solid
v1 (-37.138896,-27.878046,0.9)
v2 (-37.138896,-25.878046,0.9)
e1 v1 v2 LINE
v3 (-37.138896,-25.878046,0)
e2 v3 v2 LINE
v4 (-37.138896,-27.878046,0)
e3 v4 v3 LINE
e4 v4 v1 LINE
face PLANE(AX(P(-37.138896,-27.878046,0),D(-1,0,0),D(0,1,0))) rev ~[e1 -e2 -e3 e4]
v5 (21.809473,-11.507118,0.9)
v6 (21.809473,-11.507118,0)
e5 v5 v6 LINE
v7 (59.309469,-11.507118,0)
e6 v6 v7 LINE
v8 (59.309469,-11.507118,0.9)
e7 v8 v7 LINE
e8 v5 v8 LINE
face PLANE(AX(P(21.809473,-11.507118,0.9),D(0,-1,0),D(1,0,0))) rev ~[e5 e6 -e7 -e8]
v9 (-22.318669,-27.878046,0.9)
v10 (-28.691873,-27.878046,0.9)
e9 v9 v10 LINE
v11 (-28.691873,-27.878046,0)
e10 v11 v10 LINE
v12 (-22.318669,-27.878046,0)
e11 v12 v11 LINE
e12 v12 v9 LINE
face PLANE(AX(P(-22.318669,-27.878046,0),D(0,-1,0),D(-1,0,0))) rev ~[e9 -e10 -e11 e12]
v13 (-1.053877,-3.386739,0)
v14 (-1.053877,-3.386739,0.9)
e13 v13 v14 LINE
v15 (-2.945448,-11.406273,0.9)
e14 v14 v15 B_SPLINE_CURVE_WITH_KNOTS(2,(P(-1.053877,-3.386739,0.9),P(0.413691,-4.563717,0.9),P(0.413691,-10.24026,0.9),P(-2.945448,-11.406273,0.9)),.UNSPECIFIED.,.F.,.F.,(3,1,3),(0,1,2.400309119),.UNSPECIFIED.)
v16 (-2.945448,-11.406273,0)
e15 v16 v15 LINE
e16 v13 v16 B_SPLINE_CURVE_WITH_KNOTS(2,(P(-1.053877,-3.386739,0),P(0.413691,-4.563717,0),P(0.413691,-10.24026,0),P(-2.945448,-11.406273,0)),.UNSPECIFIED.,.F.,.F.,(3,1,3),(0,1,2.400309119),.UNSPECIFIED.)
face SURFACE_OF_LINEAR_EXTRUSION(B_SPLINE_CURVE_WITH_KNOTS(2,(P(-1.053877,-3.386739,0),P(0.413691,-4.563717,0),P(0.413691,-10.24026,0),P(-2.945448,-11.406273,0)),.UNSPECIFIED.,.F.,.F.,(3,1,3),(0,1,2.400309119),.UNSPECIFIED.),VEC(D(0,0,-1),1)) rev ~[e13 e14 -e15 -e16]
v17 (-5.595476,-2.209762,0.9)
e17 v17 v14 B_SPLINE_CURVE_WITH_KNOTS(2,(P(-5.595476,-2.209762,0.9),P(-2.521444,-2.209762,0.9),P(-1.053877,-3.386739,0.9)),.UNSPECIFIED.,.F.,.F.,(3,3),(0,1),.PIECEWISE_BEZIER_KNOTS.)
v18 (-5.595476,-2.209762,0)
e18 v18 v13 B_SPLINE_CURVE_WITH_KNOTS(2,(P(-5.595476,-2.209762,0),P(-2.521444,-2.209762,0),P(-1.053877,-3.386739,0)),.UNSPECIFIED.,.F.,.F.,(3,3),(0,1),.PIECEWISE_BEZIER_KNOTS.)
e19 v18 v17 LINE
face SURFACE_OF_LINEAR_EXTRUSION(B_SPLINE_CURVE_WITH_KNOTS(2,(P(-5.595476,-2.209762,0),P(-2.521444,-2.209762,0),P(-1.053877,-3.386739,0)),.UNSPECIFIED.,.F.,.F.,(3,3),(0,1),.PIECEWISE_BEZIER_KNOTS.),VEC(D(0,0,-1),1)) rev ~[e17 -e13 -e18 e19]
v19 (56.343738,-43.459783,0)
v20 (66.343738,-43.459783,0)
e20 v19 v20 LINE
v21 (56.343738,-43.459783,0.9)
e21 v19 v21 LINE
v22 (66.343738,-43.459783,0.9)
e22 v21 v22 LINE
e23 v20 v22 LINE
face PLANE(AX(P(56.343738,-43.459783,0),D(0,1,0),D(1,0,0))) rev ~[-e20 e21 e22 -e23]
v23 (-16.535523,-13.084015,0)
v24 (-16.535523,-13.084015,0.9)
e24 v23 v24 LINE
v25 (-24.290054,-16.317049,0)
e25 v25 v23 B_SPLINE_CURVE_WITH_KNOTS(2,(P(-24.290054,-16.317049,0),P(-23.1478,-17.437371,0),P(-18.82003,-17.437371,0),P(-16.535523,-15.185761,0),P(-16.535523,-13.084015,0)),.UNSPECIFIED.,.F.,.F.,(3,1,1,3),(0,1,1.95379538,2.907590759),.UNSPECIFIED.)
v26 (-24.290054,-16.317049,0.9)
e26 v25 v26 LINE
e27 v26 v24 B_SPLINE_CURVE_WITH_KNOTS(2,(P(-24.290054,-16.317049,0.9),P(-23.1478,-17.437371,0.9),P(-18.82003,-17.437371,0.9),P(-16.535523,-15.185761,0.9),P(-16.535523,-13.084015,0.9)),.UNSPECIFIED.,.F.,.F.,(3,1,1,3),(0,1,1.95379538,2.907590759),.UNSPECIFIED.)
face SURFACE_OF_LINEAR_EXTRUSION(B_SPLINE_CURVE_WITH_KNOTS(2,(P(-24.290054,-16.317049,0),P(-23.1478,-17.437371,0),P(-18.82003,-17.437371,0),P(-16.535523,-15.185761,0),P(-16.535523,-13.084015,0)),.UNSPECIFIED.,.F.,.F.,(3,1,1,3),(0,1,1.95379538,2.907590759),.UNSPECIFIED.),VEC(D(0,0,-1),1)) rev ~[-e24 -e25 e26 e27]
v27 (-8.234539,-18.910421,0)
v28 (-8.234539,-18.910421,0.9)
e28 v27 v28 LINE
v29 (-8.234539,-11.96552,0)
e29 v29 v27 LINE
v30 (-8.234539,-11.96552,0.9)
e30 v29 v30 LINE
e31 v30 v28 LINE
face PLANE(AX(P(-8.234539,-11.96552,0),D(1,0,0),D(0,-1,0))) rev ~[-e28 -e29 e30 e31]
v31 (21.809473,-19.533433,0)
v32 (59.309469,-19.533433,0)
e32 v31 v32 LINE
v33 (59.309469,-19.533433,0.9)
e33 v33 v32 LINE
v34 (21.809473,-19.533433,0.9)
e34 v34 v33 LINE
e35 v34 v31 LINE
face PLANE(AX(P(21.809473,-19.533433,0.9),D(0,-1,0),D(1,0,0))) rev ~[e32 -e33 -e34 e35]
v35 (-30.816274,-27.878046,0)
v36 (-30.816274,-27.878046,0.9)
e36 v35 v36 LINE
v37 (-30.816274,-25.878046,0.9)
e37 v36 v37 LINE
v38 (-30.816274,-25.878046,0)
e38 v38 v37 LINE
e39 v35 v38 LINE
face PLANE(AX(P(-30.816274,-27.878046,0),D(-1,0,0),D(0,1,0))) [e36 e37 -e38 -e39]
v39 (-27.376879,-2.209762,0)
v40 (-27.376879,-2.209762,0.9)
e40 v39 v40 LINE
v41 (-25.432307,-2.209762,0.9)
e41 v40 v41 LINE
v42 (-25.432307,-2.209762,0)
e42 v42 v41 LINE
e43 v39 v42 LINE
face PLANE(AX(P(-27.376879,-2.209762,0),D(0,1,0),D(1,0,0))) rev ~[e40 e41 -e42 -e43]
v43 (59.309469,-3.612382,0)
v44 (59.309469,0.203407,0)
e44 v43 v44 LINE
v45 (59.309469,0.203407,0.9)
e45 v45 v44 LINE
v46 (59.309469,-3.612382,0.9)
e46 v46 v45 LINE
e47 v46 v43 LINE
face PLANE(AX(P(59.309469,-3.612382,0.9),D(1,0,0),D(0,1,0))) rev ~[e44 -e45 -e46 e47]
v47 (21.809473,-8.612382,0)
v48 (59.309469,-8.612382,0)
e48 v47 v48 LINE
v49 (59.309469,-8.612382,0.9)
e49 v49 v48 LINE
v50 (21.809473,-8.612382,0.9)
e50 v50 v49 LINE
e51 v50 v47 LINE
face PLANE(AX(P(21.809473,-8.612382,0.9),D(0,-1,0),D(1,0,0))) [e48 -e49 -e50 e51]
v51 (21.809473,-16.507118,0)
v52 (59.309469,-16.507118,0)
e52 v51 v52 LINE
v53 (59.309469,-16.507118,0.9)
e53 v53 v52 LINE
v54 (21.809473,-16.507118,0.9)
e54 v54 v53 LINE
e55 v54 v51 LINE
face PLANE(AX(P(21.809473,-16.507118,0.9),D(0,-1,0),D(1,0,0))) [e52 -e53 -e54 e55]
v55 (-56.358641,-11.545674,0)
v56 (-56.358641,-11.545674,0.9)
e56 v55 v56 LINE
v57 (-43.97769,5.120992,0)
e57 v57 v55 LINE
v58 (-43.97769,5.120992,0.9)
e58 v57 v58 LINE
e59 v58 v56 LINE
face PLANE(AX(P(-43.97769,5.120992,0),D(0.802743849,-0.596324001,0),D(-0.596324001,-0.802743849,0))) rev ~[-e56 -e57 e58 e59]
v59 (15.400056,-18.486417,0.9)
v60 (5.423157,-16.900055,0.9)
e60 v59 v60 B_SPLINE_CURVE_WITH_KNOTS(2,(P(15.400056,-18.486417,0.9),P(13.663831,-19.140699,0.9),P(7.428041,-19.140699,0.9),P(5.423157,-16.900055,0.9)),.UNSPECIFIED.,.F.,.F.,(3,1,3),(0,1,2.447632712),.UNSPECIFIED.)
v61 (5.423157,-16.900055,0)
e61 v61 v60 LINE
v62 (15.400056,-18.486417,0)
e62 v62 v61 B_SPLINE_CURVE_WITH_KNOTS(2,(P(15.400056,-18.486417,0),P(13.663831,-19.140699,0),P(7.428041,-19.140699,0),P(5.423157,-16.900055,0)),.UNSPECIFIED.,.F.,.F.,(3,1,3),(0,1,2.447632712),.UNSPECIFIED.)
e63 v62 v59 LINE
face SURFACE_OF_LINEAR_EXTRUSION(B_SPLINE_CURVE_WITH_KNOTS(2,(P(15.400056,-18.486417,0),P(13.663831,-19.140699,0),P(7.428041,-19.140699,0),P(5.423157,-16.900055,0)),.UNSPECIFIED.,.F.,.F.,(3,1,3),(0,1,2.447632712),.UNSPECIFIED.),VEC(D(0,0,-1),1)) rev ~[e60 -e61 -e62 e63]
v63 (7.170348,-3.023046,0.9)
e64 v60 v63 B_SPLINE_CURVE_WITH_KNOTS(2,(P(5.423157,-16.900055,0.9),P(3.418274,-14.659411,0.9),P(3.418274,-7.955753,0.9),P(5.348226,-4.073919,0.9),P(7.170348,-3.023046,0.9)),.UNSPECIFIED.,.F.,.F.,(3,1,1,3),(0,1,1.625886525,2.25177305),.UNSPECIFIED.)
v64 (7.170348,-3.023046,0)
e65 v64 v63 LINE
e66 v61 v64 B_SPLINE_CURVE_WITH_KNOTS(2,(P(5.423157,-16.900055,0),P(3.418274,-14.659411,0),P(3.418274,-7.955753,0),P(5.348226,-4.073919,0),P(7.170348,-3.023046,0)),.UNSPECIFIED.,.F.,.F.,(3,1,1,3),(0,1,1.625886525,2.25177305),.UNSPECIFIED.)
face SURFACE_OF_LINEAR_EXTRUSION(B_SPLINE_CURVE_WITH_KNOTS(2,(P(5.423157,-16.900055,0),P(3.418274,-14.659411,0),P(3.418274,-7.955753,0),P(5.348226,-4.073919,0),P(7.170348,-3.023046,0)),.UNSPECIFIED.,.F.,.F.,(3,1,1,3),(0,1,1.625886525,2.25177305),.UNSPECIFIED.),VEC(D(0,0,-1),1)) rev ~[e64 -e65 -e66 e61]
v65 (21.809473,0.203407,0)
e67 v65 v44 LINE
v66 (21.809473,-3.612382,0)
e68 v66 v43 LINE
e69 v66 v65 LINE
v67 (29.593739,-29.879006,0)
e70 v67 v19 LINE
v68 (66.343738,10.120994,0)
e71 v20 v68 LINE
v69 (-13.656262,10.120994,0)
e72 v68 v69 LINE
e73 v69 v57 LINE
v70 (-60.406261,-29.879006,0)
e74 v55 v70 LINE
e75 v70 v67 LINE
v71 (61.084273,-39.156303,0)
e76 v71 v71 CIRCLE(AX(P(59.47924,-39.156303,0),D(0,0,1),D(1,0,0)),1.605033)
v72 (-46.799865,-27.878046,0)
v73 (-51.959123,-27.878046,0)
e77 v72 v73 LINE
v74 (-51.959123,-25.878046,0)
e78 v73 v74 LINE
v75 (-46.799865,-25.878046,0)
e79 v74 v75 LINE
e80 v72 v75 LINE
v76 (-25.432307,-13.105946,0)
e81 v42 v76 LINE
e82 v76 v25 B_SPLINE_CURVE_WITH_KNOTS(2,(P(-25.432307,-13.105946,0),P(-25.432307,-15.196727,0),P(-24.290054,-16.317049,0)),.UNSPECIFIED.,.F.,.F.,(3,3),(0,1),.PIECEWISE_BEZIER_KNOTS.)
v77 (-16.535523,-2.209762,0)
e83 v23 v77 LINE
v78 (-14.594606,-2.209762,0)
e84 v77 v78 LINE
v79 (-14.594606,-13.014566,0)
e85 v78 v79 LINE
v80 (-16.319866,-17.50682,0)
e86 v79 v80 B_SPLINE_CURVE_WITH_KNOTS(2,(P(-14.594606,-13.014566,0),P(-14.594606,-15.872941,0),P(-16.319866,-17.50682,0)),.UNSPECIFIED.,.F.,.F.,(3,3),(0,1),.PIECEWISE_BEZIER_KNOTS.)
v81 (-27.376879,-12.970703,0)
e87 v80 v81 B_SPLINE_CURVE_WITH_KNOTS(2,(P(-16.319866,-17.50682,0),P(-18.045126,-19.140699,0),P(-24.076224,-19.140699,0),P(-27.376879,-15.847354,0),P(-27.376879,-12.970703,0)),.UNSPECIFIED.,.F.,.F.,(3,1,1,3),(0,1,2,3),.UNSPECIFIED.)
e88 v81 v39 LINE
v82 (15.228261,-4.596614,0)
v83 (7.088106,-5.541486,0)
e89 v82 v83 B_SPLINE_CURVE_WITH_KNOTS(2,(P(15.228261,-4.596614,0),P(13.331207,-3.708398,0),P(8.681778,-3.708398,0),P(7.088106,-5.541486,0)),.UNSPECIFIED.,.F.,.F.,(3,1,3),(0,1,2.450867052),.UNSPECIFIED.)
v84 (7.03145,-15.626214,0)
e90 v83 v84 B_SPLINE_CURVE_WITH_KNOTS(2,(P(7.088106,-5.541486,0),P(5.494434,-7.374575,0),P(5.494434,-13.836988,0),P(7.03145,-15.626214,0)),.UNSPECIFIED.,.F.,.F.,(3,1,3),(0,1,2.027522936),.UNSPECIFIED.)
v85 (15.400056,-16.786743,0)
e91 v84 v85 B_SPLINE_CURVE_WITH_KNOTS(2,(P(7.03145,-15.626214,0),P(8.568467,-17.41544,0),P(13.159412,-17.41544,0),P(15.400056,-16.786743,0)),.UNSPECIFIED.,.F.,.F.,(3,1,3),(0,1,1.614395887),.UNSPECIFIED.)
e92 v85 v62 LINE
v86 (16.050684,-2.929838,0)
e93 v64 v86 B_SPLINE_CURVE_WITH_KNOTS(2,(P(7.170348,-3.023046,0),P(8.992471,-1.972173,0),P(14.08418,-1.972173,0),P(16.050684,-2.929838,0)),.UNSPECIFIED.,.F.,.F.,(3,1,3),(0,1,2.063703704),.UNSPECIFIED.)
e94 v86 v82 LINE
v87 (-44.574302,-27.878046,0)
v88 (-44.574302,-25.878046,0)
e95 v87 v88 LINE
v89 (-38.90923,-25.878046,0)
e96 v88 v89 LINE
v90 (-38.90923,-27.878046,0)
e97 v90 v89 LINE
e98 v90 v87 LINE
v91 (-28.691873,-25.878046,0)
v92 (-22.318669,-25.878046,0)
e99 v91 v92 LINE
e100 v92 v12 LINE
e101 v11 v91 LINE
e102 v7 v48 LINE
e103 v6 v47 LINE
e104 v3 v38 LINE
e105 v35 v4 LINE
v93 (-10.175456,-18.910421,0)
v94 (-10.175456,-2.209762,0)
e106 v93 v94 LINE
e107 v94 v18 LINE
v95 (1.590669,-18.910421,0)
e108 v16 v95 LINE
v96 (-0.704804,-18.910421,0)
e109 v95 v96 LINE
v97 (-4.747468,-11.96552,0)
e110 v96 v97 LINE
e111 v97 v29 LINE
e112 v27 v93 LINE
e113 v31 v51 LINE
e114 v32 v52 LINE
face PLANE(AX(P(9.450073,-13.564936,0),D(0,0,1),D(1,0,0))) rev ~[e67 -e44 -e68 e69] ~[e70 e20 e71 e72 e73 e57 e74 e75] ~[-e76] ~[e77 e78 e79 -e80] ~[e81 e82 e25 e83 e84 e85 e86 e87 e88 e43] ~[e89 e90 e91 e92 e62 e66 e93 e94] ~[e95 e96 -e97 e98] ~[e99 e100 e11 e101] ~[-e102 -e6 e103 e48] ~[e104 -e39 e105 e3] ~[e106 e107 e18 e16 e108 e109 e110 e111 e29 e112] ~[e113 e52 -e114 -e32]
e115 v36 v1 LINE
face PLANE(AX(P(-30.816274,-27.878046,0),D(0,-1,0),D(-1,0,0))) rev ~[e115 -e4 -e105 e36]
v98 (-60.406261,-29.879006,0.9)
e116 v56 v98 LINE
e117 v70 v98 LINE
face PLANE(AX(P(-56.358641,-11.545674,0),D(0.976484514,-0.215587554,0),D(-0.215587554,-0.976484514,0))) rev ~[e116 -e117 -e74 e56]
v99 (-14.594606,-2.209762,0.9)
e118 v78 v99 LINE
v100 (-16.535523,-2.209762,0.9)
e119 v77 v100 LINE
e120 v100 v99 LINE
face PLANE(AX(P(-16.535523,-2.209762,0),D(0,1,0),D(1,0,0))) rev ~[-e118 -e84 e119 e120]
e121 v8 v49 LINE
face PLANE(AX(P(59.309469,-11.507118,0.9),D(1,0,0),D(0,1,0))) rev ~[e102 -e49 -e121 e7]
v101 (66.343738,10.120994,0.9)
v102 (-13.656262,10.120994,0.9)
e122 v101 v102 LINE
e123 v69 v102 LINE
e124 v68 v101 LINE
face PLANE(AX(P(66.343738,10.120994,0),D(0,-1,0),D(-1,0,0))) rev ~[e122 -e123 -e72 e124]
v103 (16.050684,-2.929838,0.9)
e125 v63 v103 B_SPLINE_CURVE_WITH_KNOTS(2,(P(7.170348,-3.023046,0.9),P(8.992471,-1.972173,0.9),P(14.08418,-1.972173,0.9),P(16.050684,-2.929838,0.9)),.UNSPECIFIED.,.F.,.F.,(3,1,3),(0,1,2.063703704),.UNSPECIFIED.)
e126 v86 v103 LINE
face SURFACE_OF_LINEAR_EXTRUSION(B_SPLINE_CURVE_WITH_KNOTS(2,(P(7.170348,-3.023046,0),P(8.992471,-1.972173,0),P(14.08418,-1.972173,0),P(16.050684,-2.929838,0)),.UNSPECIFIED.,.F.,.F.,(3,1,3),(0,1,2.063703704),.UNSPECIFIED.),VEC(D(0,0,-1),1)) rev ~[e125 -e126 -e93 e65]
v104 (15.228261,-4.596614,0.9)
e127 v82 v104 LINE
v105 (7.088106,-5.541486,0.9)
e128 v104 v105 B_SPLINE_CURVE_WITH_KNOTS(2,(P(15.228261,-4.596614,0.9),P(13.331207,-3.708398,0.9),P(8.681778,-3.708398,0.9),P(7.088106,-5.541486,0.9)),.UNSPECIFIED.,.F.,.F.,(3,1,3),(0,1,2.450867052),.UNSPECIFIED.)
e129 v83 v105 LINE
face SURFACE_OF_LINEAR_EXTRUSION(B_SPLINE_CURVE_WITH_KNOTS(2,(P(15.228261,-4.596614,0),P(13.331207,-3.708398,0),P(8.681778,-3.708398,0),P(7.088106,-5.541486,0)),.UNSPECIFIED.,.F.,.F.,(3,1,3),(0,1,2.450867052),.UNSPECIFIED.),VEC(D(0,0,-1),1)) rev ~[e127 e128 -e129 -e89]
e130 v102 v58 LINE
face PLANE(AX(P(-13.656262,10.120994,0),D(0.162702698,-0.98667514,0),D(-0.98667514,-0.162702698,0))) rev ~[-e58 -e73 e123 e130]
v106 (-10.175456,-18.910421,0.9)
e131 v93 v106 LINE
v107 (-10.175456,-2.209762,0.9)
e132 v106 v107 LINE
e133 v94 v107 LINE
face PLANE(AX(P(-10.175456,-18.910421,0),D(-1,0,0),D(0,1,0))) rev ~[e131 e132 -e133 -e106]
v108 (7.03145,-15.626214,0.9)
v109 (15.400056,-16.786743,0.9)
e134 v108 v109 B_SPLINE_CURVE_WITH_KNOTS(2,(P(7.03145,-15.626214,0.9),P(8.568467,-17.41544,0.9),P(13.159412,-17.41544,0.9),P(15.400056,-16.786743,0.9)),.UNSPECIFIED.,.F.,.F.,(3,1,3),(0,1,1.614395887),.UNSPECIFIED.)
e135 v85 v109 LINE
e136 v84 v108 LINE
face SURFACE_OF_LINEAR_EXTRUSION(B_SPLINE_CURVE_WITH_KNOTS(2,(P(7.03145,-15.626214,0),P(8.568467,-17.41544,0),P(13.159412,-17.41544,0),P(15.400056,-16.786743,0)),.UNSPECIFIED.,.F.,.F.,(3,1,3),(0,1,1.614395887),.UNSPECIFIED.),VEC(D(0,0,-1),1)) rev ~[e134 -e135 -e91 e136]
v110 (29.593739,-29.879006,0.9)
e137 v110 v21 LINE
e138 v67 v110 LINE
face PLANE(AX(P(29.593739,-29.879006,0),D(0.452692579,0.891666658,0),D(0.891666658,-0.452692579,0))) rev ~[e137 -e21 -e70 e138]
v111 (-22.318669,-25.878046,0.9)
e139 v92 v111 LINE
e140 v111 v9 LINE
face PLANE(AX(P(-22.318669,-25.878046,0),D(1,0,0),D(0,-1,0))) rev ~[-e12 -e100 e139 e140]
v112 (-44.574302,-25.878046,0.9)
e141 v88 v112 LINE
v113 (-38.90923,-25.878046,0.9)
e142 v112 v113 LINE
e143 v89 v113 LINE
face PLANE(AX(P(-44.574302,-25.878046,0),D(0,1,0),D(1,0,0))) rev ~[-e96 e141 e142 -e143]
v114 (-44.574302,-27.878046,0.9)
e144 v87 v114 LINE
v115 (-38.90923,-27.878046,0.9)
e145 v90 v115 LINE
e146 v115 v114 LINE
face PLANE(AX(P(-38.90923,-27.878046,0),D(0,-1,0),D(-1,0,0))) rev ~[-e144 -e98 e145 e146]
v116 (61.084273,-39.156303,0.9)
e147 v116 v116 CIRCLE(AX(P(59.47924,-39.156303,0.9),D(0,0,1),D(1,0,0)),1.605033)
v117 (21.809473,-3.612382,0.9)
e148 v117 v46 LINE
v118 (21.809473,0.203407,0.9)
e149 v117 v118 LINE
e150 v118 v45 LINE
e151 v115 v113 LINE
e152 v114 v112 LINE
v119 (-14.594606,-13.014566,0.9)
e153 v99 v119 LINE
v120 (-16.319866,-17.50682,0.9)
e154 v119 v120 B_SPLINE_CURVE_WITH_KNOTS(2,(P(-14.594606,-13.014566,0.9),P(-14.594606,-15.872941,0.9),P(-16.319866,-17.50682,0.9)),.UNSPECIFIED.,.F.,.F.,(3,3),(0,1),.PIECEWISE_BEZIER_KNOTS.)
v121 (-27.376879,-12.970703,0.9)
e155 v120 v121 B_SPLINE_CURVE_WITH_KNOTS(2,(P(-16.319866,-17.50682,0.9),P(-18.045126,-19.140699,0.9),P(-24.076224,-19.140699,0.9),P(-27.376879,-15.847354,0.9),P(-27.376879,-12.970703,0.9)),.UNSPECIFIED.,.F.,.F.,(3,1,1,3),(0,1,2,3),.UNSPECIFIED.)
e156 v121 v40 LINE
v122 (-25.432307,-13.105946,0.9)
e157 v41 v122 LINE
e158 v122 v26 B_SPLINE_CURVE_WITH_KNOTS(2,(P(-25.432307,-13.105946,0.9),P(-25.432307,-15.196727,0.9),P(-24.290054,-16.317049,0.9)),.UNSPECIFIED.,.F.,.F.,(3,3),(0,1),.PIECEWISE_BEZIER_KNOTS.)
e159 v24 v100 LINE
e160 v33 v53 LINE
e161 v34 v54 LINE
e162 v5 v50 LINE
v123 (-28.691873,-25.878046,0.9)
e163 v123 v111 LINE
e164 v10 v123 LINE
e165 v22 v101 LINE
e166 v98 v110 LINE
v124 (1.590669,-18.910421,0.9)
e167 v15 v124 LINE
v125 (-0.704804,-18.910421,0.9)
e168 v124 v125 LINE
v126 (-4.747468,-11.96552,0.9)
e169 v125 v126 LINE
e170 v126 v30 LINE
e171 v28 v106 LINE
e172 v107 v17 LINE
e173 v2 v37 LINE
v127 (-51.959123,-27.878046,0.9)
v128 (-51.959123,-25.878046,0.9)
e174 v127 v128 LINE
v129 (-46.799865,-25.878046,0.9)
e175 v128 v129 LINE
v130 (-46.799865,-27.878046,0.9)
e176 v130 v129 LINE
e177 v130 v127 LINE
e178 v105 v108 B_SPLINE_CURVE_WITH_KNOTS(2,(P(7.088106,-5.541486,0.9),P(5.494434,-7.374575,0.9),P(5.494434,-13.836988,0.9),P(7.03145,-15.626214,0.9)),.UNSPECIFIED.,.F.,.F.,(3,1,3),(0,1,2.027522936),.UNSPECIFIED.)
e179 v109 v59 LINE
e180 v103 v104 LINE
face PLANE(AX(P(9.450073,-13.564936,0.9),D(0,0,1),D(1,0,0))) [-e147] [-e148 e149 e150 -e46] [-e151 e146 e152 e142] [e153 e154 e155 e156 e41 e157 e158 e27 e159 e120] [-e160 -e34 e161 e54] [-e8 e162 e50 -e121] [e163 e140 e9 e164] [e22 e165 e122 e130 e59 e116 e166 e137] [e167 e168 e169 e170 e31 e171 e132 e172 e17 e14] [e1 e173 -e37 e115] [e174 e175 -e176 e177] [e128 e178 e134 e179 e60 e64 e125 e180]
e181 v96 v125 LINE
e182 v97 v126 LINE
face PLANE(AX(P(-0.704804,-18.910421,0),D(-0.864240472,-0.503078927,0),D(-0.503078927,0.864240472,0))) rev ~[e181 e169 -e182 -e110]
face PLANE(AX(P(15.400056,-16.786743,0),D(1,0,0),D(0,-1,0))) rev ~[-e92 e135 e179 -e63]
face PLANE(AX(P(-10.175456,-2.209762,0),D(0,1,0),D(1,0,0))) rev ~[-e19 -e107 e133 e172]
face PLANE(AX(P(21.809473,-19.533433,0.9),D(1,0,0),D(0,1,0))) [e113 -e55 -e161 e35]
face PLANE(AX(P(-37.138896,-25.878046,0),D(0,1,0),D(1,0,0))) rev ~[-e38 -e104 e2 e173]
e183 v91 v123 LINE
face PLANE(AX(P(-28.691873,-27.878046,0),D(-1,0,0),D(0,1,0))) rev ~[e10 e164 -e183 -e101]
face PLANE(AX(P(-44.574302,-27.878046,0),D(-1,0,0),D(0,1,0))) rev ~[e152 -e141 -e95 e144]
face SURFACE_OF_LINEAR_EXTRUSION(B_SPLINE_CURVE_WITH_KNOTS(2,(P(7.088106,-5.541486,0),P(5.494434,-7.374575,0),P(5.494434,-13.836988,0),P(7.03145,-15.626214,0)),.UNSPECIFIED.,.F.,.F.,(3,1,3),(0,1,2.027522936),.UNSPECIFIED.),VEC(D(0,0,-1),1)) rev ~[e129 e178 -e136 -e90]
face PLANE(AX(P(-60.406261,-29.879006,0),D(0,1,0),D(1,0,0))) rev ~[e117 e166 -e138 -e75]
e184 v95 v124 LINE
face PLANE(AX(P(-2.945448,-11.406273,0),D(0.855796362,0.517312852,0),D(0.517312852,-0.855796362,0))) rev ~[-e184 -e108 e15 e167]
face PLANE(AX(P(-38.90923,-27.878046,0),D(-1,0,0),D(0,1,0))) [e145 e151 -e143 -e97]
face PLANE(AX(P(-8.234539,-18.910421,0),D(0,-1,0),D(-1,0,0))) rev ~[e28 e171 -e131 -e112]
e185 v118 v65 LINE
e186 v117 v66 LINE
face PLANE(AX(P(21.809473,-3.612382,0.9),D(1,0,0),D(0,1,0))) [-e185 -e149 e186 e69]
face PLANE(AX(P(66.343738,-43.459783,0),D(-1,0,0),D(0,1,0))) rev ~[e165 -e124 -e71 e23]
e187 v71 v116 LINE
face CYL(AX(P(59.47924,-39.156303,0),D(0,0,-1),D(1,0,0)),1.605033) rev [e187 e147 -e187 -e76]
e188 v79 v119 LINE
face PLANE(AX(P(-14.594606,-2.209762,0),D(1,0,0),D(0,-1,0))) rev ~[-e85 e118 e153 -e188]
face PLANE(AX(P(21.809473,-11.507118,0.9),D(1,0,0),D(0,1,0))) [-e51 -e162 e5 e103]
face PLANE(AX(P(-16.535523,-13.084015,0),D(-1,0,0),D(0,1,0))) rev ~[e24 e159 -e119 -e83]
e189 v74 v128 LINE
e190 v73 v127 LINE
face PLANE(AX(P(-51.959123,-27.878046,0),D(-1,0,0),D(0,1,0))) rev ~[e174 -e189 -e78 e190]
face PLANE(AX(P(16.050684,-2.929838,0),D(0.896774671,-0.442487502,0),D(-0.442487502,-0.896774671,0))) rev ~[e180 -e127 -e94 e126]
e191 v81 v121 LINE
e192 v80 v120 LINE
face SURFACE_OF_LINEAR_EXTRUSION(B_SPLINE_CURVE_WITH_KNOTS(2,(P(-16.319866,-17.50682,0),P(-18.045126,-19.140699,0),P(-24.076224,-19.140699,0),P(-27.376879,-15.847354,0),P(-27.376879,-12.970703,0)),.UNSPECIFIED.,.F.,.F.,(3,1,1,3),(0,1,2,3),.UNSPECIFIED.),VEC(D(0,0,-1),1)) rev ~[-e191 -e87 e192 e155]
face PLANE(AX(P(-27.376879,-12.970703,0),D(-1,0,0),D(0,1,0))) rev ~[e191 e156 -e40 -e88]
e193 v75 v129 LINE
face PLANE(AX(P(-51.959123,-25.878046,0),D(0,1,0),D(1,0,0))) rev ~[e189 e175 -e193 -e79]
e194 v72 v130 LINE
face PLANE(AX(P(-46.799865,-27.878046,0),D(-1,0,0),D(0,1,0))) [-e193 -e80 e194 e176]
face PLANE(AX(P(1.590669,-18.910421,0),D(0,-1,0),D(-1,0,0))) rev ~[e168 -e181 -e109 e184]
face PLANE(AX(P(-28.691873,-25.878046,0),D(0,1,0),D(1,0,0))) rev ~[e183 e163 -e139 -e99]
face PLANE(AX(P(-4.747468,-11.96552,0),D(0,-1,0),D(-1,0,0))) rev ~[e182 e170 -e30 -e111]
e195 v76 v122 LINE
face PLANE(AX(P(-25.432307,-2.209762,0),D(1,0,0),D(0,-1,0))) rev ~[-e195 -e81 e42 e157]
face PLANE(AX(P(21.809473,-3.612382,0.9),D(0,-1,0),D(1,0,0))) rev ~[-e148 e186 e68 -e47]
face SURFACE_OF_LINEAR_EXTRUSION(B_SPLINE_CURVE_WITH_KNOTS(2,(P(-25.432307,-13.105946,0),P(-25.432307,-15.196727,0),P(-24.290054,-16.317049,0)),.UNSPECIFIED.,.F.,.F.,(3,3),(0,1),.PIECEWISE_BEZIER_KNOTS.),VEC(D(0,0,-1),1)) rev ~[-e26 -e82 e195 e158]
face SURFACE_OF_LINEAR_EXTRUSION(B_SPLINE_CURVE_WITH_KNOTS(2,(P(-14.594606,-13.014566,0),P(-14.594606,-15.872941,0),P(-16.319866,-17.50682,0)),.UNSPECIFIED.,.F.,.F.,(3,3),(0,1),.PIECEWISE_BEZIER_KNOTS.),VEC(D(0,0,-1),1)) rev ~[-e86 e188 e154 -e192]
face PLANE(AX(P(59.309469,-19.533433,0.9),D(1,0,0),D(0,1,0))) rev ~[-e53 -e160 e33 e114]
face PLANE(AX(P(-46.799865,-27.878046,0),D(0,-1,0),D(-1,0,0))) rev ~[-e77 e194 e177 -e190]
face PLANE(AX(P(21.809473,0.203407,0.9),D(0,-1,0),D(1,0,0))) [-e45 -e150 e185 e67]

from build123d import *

# Parameters (mm, degrees)
F0_R     = 1.6050327283
F0_W     = 2.2255629301
F0_H     = 2
F0_W_2   = 1.7703343183
F0_W_3   = 2.1244008094
F1_DEPTH = 0.9
F3_W     = 37.4999957172
F3_H     = 3.8157890567
F3_H_2   = 3.0263150231
F3_H_3   = 2.8947356249
F4_DEPTH = 0.9


with BuildPart() as f1:
    # F0 (on Top) → F1 (new body)
    with BuildSketch(Plane.XY):
        Polygon((-56.3586414655, -11.5456737704), (-60.406261386, -29.879005636), (29.593738614, -29.879005636), (56.3437383481, -43.4597830152), (66.3437383481, -43.4597830152), (66.3437383481, 10.120994364), (-13.6562616519, 10.120994364), (-43.9776898843, 5.1209918552), align=None)
        Polygon((-51.9591234624, -27.8780460358), (-51.9591234624, -25.8780460358), (-46.79986462, -25.8780460358), (-44.5743016899, -25.8780460358), (-38.9092303813, -25.8780460358), (-37.138896063, -25.8780460358), (-30.8162737638, -25.8780460358), (-28.6918729544, -25.8780460358), (-22.3186686635, -25.8780460358), (-22.3186686635, -27.8780460358), (-28.6918729544, -27.8780460358), (-30.8162737638, -27.8780460358), (-37.138896063, -27.8780460358), (-38.9092303813, -27.8780460358), (-44.5743016899, -27.8780460358), (-46.79986462, -27.8780460358), align=None, mode=Mode.SUBTRACT)
        with Locations((59.4792403281, -39.1563028097)):
            Circle(F0_R, mode=Mode.SUBTRACT)
        with BuildLine():
            Line((-16.5355233229, -2.2097615232), (-14.5946062265, -2.2097615232))
            Line((-14.5946062265, -2.2097615232), (-14.5946062265, -13.0145655474))
            add(Edge.make_bspline(
                [(-14.5946062265, -13.0145655474), (-14.5946062265, -15.8729406309), (-16.3198658677, -17.5068199945)],
                knots=[0, 0, 0, 1, 1, 1], degree=2))
            add(Edge.make_bspline(
                [(-16.3198658677, -17.5068199945), (-18.045125509, -19.1406993581), (-21.06067467, -19.1406993581)],
                knots=[0, 0, 0, 1, 1, 1], degree=2))
            add(Edge.make_bspline(
                [(-21.06067467, -19.1406993581), (-24.076223831, -19.1406993581), (-25.7265516446, -17.4940267556)],
                knots=[0, 0, 0, 1, 1, 1], degree=2))
            add(Edge.make_bspline(
                [(-25.7265516446, -17.4940267556), (-27.3768794581, -15.8473541532), (-27.3768794581, -12.9707030141)],
                knots=[0, 0, 0, 1, 1, 1], degree=2))
            Line((-27.3768794581, -12.9707030141), (-27.3768794581, -2.2097615232))
            Line((-27.3768794581, -2.2097615232), (-25.4323071507, -2.2097615232))
            Line((-25.4323071507, -2.2097615232), (-25.4323071507, -13.105945825))
            add(Edge.make_bspline(
                [(-25.4323071507, -13.105945825), (-25.4323071507, -15.1967265766), (-24.2900536806, -16.3170487801)],
                knots=[0, 0, 0, 1, 1, 1], degree=2))
            add(Edge.make_bspline(
                [(-24.2900536806, -16.3170487801), (-23.1478002105, -17.4373709835), (-20.9327422813, -17.4373709835)],
                knots=[0, 0, 0, 1, 1, 1], degree=2))
            add(Edge.make_bspline(
                [(-20.9327422813, -17.4373709835), (-18.8200302631, -17.4373709835), (-17.677776793, -16.3115659634)],
                knots=[0, 0, 0, 1, 1, 1], degree=2))
            add(Edge.make_bspline(
                [(-17.677776793, -16.3115659634), (-16.5355233229, -15.1857609433), (-16.5355233229, -13.0840145583)],
                knots=[0, 0, 0, 1, 1, 1], degree=2))
            Line((-16.5355233229, -13.0840145583), (-16.5355233229, -2.2097615232))
        make_face(mode=Mode.SUBTRACT)
        with BuildLine():
            Line((-4.7474675117, -11.9655199604), (-8.2345389051, -11.9655199604))
            Line((-8.2345389051, -11.9655199604), (-8.2345389051, -18.9104210585))
            Line((-8.2345389051, -18.9104210585), (-10.1754560015, -18.9104210585))
            Line((-10.1754560015, -18.9104210585), (-10.1754560015, -2.2097615232))
            Line((-10.1754560015, -2.2097615232), (-5.5954764878, -2.2097615232))
            add(Edge.make_bspline(
                [(-5.5954764878, -2.2097615232), (-2.5214439492, -2.2097615232), (-1.0538766908, -3.3867394987)],
                knots=[0, 0, 0, 1, 1, 1], degree=2))
            add(Edge.make_bspline(
                [(-1.0538766908, -3.3867394987), (0.4136905676, -4.5637174743), (0.4136905676, -6.9286390588)],
                knots=[0, 0, 0, 1, 1, 1], degree=2))
            add(Edge.make_bspline(
                [(0.4136905676, -6.9286390588), (0.4136905676, -10.2402603192), (-2.9454484373, -11.4062726615)],
                knots=[0, 0, 0, 1, 1, 1], degree=2))
            Line((-2.9454484373, -11.4062726615), (1.5906685431, -18.9104210585))
            Line((1.5906685431, -18.9104210585), (-0.7048040303, -18.9104210585))
            Line((-0.7048040303, -18.9104210585), (-4.7474675117, -11.9655199604))
        make_face(mode=Mode.SUBTRACT)
        with BuildLine():
            add(Edge.make_bspline(
                [(15.2282611731, -4.5966143742), (13.33120661, -3.7083980759), (11.4341520469, -3.7083980759)],
                knots=[0, 0, 0, 1, 1, 1], degree=2))
            add(Edge.make_bspline(
                [(11.4341520469, -3.7083980759), (8.6817780854, -3.7083980759), (7.0881060439, -5.5414864447)],
                knots=[0, 0, 0, 1, 1, 1], degree=2))
            add(Edge.make_bspline(
                [(7.0881060439, -5.5414864447), (5.4944340025, -7.3745748135), (5.4944340025, -10.5619188964)],
                knots=[0, 0, 0, 1, 1, 1], degree=2))
            add(Edge.make_bspline(
                [(5.4944340025, -10.5619188964), (5.4944340025, -13.8369880458), (7.0314502718, -15.6262138814)],
                knots=[0, 0, 0, 1, 1, 1], degree=2))
            add(Edge.make_bspline(
                [(7.0314502718, -15.6262138814), (8.5684665412, -17.4154397169), (11.4122207803, -17.4154397169)],
                knots=[0, 0, 0, 1, 1, 1], degree=2))
            add(Edge.make_bspline(
                [(11.4122207803, -17.4154397169), (13.1594116881, -17.4154397169), (15.400056095, -16.786743407)],
                knots=[0, 0, 0, 1, 1, 1], degree=2))
            Line((15.400056095, -16.786743407), (15.400056095, -18.4864165704))
            add(Edge.make_bspline(
                [(15.400056095, -18.4864165704), (13.6638308205, -19.1406993581), (11.1161486808, -19.1406993581)],
                knots=[0, 0, 0, 1, 1, 1], degree=2))
            add(Edge.make_bspline(
                [(11.1161486808, -19.1406993581), (7.4280406766, -19.1406993581), (5.4231573859, -16.9000549512)],
                knots=[0, 0, 0, 1, 1, 1], degree=2))
            add(Edge.make_bspline(
                [(5.4231573859, -16.9000549512), (3.4182740953, -14.6594105443), (3.4182740953, -10.5363324187)],
                knots=[0, 0, 0, 1, 1, 1], degree=2))
            add(Edge.make_bspline(
                [(3.4182740953, -10.5363324187), (3.4182740953, -7.9557533791), (4.3832498268, -6.0148362827)],
                knots=[0, 0, 0, 1, 1, 1], degree=2))
            add(Edge.make_bspline(
                [(4.3832498268, -6.0148362827), (5.3482255583, -4.0739191863), (7.1703482938, -3.0230459939)],
                knots=[0, 0, 0, 1, 1, 1], degree=2))
            add(Edge.make_bspline(
                [(7.1703482938, -3.0230459939), (8.9924710293, -1.9721728014), (11.4597385246, -1.9721728014)],
                knots=[0, 0, 0, 1, 1, 1], degree=2))
            add(Edge.make_bspline(
                [(11.4597385246, -1.9721728014), (14.0841800975, -1.9721728014), (16.0506836716, -2.9298381107)],
                knots=[0, 0, 0, 1, 1, 1], degree=2))
            Line((16.0506836716, -2.9298381107), (15.2282611731, -4.5966143742))
        make_face(mode=Mode.SUBTRACT)
        with Locations((-45.6870831549, -26.8780460358)):
            Rectangle(F0_W, F0_H)
        with Locations((-38.0240632221, -26.8780460358)):
            Rectangle(F0_W_2, F0_H)
        with Locations((-29.7540733591, -26.8780460358)):
            Rectangle(F0_W_3, F0_H)
    extrude(amount=F1_DEPTH)

    # F3 (on face) → F4 (cut, through all)
    with BuildSketch(Plane.XY.offset(0.9)):
        with Locations((40.5594706535, -1.704487608)):
            Rectangle(F3_W, F3_H)
        with Locations((40.5594706535, -18.0202752728)):
            Rectangle(F3_W, F3_H_2)
        with Locations((40.5594706535, -10.0597499488)):
            Rectangle(F3_W, F3_H_3)
    extrude(amount=-F4_DEPTH, mode=Mode.SUBTRACT)


solid = f1.part
